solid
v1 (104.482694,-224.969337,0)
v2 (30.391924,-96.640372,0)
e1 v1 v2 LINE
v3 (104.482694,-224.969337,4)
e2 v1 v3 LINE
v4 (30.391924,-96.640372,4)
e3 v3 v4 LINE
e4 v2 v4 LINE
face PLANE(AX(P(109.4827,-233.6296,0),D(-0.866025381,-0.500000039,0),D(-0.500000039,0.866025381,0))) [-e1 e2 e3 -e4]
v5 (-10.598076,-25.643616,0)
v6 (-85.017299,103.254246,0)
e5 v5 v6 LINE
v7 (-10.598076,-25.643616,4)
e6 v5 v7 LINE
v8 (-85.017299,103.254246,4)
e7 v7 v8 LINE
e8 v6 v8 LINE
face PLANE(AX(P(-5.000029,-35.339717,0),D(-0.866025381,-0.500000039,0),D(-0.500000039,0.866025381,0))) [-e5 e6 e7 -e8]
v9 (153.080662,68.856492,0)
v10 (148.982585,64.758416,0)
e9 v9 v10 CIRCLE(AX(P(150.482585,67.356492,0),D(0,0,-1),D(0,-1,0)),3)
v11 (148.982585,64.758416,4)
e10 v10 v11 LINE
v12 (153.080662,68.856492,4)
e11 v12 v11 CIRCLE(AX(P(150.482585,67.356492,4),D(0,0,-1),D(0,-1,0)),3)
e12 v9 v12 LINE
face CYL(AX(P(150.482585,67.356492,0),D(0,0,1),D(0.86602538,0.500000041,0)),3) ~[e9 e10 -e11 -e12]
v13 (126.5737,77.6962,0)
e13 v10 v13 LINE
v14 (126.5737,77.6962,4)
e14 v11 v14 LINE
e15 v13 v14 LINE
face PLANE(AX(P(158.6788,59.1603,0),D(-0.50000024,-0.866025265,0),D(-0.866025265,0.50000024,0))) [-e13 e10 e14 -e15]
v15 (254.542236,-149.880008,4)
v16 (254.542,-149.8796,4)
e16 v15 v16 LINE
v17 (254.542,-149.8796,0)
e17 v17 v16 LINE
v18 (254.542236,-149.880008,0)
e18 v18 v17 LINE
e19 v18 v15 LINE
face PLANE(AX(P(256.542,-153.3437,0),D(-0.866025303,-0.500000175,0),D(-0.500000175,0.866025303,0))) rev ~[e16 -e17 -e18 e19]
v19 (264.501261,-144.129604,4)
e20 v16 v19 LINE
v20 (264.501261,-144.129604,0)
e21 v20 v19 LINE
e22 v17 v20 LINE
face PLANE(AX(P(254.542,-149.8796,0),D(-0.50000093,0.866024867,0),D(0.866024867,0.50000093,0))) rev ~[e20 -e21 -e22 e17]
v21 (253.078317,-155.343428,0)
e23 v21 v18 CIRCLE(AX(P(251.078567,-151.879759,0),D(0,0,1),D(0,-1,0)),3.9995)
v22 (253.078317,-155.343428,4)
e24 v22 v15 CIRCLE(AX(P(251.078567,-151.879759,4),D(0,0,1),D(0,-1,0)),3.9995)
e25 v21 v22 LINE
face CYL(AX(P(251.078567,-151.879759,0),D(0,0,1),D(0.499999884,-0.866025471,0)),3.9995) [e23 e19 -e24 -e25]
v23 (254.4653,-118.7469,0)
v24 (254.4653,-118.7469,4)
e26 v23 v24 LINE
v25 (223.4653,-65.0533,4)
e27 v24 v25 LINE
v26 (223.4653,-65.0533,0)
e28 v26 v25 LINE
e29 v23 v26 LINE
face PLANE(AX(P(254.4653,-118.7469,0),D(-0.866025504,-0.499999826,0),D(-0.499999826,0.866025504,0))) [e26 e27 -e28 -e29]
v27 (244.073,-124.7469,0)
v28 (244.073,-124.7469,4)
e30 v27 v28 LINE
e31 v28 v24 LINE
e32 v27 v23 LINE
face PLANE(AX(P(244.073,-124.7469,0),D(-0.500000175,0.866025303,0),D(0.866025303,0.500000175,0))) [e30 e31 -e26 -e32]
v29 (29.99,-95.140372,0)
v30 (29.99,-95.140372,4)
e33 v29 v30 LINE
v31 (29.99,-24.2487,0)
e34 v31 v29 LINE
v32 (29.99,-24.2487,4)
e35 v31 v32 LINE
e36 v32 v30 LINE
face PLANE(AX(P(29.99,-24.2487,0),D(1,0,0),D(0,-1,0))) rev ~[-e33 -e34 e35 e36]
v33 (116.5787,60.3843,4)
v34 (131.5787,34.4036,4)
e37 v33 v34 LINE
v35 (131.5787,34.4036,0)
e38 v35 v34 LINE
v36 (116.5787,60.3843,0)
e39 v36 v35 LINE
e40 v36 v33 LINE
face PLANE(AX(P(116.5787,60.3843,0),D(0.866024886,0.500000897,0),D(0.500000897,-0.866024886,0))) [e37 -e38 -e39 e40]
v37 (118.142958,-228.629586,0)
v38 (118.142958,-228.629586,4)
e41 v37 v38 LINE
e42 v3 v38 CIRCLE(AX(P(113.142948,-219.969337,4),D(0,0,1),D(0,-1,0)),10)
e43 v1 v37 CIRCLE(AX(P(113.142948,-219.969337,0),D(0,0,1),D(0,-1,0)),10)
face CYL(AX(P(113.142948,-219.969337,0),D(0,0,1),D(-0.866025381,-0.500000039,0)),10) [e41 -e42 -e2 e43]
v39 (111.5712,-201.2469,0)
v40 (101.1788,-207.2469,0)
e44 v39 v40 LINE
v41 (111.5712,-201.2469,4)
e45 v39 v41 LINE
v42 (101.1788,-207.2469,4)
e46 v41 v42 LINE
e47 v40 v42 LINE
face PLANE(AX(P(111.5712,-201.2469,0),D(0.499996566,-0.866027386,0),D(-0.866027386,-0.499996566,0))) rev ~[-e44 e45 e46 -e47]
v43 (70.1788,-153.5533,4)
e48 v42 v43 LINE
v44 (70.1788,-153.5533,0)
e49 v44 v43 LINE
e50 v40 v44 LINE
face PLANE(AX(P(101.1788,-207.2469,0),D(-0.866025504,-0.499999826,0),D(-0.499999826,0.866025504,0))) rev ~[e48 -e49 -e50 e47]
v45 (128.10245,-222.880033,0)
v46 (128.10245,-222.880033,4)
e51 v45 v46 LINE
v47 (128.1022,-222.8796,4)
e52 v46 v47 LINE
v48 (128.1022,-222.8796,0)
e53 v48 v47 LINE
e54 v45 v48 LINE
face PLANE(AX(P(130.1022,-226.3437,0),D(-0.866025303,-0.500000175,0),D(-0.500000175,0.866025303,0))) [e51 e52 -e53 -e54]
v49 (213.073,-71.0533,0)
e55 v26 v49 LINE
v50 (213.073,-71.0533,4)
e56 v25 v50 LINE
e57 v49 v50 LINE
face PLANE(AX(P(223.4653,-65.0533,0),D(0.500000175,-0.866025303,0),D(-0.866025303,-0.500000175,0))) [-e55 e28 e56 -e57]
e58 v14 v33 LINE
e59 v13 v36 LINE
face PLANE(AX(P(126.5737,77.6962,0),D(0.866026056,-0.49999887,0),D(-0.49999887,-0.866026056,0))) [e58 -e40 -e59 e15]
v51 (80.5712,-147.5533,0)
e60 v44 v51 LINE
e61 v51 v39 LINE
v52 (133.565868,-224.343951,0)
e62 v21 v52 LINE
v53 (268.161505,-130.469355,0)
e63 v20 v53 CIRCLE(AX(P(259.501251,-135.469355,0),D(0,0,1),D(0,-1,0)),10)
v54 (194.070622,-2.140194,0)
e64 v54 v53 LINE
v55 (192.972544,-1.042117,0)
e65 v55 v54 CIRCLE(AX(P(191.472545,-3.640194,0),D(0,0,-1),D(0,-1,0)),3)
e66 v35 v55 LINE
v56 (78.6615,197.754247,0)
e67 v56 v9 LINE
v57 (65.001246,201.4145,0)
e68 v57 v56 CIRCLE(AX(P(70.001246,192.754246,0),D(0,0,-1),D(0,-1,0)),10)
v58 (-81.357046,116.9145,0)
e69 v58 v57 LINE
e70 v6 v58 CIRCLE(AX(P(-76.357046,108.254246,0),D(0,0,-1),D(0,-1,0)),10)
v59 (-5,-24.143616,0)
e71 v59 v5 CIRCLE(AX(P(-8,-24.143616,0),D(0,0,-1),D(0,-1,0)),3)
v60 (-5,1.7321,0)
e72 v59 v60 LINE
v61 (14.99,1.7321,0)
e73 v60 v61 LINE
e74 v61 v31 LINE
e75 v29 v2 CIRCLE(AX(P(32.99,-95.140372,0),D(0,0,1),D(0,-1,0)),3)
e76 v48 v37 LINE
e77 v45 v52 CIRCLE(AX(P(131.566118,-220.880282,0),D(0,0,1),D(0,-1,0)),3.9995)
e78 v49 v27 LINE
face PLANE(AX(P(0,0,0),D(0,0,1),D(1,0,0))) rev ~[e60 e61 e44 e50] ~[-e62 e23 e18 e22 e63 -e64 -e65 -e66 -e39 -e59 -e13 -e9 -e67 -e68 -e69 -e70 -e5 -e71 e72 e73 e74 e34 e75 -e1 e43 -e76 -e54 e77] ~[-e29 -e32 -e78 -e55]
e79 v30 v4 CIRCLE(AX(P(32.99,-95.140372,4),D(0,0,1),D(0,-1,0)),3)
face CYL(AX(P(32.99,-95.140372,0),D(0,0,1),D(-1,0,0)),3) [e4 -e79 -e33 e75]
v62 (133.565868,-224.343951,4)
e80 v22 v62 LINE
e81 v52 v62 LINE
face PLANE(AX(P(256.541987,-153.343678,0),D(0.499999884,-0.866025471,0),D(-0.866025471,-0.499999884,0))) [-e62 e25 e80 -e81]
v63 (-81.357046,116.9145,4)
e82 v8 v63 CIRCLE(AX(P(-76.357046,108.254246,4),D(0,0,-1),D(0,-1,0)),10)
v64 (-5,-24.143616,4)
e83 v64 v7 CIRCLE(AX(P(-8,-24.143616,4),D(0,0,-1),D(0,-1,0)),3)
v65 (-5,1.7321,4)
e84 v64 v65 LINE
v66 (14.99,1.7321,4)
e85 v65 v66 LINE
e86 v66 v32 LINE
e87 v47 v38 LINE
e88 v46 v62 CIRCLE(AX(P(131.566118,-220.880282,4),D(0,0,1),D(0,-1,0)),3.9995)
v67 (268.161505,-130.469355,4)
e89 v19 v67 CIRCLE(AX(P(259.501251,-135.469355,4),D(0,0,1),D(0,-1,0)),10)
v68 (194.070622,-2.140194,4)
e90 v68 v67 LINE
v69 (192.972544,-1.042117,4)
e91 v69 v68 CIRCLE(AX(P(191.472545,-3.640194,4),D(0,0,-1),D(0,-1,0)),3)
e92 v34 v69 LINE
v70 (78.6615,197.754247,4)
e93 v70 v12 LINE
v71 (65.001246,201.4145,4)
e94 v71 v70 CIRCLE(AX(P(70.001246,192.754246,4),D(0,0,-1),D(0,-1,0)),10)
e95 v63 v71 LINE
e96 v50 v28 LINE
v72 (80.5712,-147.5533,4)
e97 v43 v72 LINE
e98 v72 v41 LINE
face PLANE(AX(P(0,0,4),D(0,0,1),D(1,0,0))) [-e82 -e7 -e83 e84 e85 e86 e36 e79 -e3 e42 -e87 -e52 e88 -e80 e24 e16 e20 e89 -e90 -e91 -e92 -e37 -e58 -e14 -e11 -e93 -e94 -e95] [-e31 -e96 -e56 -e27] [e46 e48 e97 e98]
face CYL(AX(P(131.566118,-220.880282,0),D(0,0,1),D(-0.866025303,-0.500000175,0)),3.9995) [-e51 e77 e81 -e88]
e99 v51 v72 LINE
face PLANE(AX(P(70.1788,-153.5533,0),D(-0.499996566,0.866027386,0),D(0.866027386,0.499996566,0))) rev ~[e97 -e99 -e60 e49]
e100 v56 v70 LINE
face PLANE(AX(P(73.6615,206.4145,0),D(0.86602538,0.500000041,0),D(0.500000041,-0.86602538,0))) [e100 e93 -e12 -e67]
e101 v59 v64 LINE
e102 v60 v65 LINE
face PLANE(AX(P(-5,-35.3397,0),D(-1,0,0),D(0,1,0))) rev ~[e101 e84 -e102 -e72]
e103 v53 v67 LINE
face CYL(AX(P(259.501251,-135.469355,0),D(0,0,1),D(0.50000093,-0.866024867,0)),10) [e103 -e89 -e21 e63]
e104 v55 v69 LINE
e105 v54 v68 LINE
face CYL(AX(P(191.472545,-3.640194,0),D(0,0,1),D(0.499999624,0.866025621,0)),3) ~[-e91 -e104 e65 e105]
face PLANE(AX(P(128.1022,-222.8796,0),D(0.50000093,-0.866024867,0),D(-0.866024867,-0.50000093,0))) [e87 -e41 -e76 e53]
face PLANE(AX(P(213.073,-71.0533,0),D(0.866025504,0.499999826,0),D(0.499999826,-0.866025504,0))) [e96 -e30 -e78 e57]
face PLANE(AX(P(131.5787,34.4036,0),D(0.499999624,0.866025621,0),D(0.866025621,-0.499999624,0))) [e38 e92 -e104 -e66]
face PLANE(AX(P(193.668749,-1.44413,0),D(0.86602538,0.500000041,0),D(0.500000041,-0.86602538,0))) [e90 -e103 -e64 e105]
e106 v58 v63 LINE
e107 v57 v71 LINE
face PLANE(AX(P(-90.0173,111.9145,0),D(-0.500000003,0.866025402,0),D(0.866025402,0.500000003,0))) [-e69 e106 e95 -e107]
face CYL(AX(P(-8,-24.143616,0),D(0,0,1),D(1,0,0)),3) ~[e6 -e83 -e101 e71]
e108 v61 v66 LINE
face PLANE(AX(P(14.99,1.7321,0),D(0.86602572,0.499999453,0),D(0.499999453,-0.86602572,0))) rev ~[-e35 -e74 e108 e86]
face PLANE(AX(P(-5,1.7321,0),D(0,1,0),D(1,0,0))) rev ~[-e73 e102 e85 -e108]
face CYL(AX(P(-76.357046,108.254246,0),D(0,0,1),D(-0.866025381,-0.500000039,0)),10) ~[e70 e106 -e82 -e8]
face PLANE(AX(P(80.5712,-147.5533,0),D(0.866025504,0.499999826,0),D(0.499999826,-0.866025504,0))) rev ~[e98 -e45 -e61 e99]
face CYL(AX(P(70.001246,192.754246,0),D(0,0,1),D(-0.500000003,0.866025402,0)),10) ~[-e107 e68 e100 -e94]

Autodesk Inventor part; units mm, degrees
ref_plane "YZ Plane" through (0, 0, 0) normal (1, 0, 0) x (0, 1, 0)
ref_plane "XZ Plane" through (0, 0, 0) normal (0, 1, 0) x (-1, 0, 0)
ref_plane "XY Plane" through (0, 0, 0) normal (0, 0, 1) x (1, 0, 0)
sketch "Sketch1" plane through (0, 0, 0) normal (0, 0, 1) x (1, 0, 0)
  line L0 (-90.0173, 111.9145) -> (73.6615, 206.4145)
  line L1 (73.6615, 206.4145) -> (275.1615, -142.5937)
  line L2 (275.1615, -142.5937) -> (130.1022, -226.3437)
  line L3 (111.4827, -237.0937) -> (109.4827, -233.6296) construction
  line L4 (89.6429, -179.2661) -> (74.6429, -153.2854) construction
  line L5 (74.6429, -153.2854) -> (65.7952, -137.9607) construction
  line L6 (69.2593, -135.9607) -> (65.7952, -137.9607) construction
  line L7 (69.2593, -135.9607) -> (78.1071, -151.2854) construction
  line L8 (78.1071, -151.2854) -> (93.1071, -177.2661) construction
  line L9 (93.1071, -177.2661) -> (89.6429, -179.2661) construction
  line L10 (74.6429, -153.2854) -> (78.1071, -151.2854) construction
  line L11 (-4, -30) -> (-4, 0) construction
  line L12 (-4, 0) -> (-4, 17.6954) construction
  line L13 (0, 17.6954) -> (-4, 17.6954) construction
  line L14 (0, 17.6954) -> (0, 0) construction
  line L15 (0, 0) -> (0, -30) construction
  line L16 (0, -30) -> (-4, -30) construction
  line L17 (-4, 0) -> (0, 0) construction
  line L18 (151.5544, 57.5) -> (125.5737, 72.5) construction
  line L19 (125.5737, 72.5) -> (110.249, 81.3477) construction
  line L20 (112.249, 84.8118) -> (110.249, 81.3477) construction
  line L21 (112.249, 84.8118) -> (127.5737, 75.9641) construction
  line L22 (127.5737, 75.9641) -> (153.5544, 60.9641) construction
  line L23 (153.5544, 60.9641) -> (151.5544, 57.5) construction
  line L24 (125.5737, 72.5) -> (127.5737, 75.9641) construction
  line L25 (232.5371, -96.7661) -> (217.5371, -70.7854) construction
  line L26 (217.5371, -70.7854) -> (208.6894, -55.4607) construction
  line L27 (212.1535, -53.4607) -> (208.6894, -55.4607) construction
  line L28 (212.1535, -53.4607) -> (221.0012, -68.7854) construction
  line L29 (221.0012, -68.7854) -> (236.0012, -94.7661) construction
  line L30 (236.0012, -94.7661) -> (232.5371, -96.7661) construction
  line L31 (217.5371, -70.7854) -> (221.0012, -68.7854) construction
  line L32 (142.8942, 62.5) -> (129.9038, 70) construction
  line L33 (129.9038, 70) -> (187.774, -30.2341) construction
  line L34 (187.774, -30.2341) -> (57.8702, -105.2341) construction
  line L35 (57.8702, -105.2341) -> (0, -5) construction
  line L36 (0, -5) -> (0, -20) construction
  line L37 (0, -20) -> (-4, -20) construction
  line L38 (-4, -20) -> (-4, 1.9282) construction
  line L39 (-4, 1.9282) -> (-65.6298, 108.6742) construction
  line L40 (-65.6298, 108.6742) -> (64.274, 183.6742) construction
  line L41 (64.274, 183.6742) -> (125.9038, 76.9282) construction
  line L42 (125.9038, 76.9282) -> (144.8942, 65.9641) construction
  line L43 (144.8942, 65.9641) -> (142.8942, 62.5) construction
  circle A0 centre (93.125, -181.2972) radius 1.5 construction
  circle A1 centre (-2, -33.5) radius 1.5 construction
  circle A2 centre (236.0192, -98.7972) radius 1.5 construction
  line L44 (57.1429, -122.9745) -> (60.6071, -120.9745) construction
  line L45 (60.6071, -120.9745) -> (88.1071, -168.6059) construction
  line L46 (88.1071, -168.6059) -> (84.6429, -170.6059) construction
  line L47 (84.6429, -170.6059) -> (57.1429, -122.9745) construction
  line L48 (200.0371, -40.4745) -> (203.5012, -38.4745) construction
  line L49 (203.5012, -38.4745) -> (231.0012, -86.1059) construction
  line L50 (231.0012, -86.1059) -> (227.5371, -88.1059) construction
  line L51 (227.5371, -88.1059) -> (200.0371, -40.4745) construction
  circle A3 centre (155.5855, 57.4821) radius 1.5 construction
  line L52 (240.274, -121.1668) -> (261.274, -157.5398) construction
  line L53 (272.0993, -151.2898) -> (261.274, -157.5398) construction
  line L54 (268.0993, -144.3616) -> (272.0993, -151.2898) construction
  line L55 (268.0993, -144.3616) -> (299.7092, -126.1116) construction
  line L56 (299.7092, -126.1116) -> (281.7092, -94.9347) construction
  line L57 (281.7092, -94.9347) -> (277.5523, -97.3347) construction
  line L58 (277.5523, -97.3347) -> (278.1523, -98.374) construction
  line L59 (278.1523, -98.374) -> (276.0739, -99.574) construction
  line L60 (276.0739, -99.574) -> (275.4739, -98.5347) construction
  line L61 (275.4739, -98.5347) -> (271.3169, -100.9347) construction
  line L62 (271.3169, -100.9347) -> (269.8169, -98.3367) construction
  line L63 (269.8169, -98.3367) -> (273.9739, -95.9367) construction
  line L64 (273.9739, -95.9367) -> (273.3739, -94.8974) construction
  line L65 (273.3739, -94.8974) -> (275.4523, -93.6974) construction
  line L66 (275.4523, -93.6974) -> (276.0523, -94.7367) construction
  line L67 (276.0523, -94.7367) -> (280.2092, -92.3367) construction
  line L68 (280.2092, -92.3367) -> (262.2092, -61.1597) construction
  line L69 (262.2092, -61.1597) -> (265.6733, -59.1597) construction
  line L70 (265.6733, -59.1597) -> (228.1733, 5.7922) construction
  line L71 (228.1733, 5.7922) -> (224.7092, 3.7922) construction
  line L72 (224.7092, 3.7922) -> (206.7092, 34.9691) construction
  line L73 (206.7092, 34.9691) -> (202.5523, 32.5691) construction
  line L74 (202.5523, 32.5691) -> (203.1523, 31.5299) construction
  line L75 (203.1523, 31.5299) -> (201.0739, 30.3299) construction
  line L76 (201.0739, 30.3299) -> (200.4739, 31.3691) construction
  line L77 (200.4739, 31.3691) -> (196.3169, 28.9691) construction
  line L78 (196.3169, 28.9691) -> (194.8169, 31.5672) construction
  line L79 (194.8169, 31.5672) -> (198.9739, 33.9672) construction
  line L80 (198.9739, 33.9672) -> (198.3739, 35.0064) construction
  line L81 (198.3739, 35.0064) -> (200.4523, 36.2064) construction
  line L82 (200.4523, 36.2064) -> (201.0523, 35.1672) construction
  line L83 (201.0523, 35.1672) -> (205.2092, 37.5672) construction
  line L84 (205.2092, 37.5672) -> (187.2092, 68.7441) construction
  line L85 (187.2092, 68.7441) -> (190.6733, 70.7441) construction
  line L86 (190.6733, 70.7441) -> (153.1733, 135.696) construction
  line L87 (153.1733, 135.696) -> (149.7092, 133.696) construction
  line L88 (149.7092, 133.696) -> (131.7092, 164.8729) construction
  line L89 (131.7092, 164.8729) -> (127.5523, 162.4729) construction
  line L90 (127.5523, 162.4729) -> (128.1523, 161.4337) construction
  line L91 (128.1523, 161.4337) -> (126.0739, 160.2337) construction
  line L92 (126.0739, 160.2337) -> (125.4739, 161.2729) construction
  line L93 (125.4739, 161.2729) -> (121.3169, 158.8729) construction
  line L94 (121.3169, 158.8729) -> (119.8169, 161.471) construction
  line L95 (119.8169, 161.471) -> (123.9739, 163.871) construction
  line L96 (123.9739, 163.871) -> (123.3739, 164.9102) construction
  line L97 (123.3739, 164.9102) -> (125.4523, 166.1102) construction
  line L98 (125.4523, 166.1102) -> (126.0523, 165.071) construction
  line L99 (126.0523, 165.071) -> (130.2092, 167.471) construction
  line L100 (130.2092, 167.471) -> (112.2092, 198.6479) construction
  line L101 (112.2092, 198.6479) -> (115.6733, 200.6479) construction
  line L102 (115.6733, 200.6479) -> (78.1733, 265.5998) construction
  line L103 (78.1733, 265.5998) -> (57.3887, 253.5998) construction
  line L104 (57.3887, 253.5998) -> (94.8887, 188.6479) construction
  line L105 (91.4246, 186.6479) -> (94.8887, 188.6479) construction
  line L106 (53.9246, 251.5998) -> (91.4246, 186.6479) construction
  line L107 (43.0993, 245.3498) -> (53.9246, 251.5998) construction
  line L108 (41.0993, 248.8139) -> (43.0993, 245.3498) construction
  line L109 (10.7884, 231.3139) -> (41.0993, 248.8139) construction
  line L110 (12.7884, 227.8498) -> (10.7884, 231.3139) construction
  line L111 (-1.068, 219.8498) -> (12.7884, 227.8498) construction
  line L112 (1.332, 215.6929) -> (-1.068, 219.8498) construction
  line L113 (2.3713, 216.2929) -> (1.332, 215.6929) construction
  line L114 (3.5713, 214.2144) -> (2.3713, 216.2929) construction
  line L115 (2.532, 213.6144) -> (3.5713, 214.2144) construction
  line L116 (4.932, 209.4575) -> (2.532, 213.6144) construction
  line L117 (2.3339, 207.9575) -> (4.932, 209.4575) construction
  line L118 (-0.0661, 212.1144) -> (2.3339, 207.9575) construction
  line L119 (-1.1053, 211.5144) -> (-0.0661, 212.1144) construction
  line L120 (-2.3053, 213.5929) -> (-1.1053, 211.5144) construction
  line L121 (-1.2661, 214.1929) -> (-2.3053, 213.5929) construction
  line L122 (-3.6661, 218.3498) -> (-1.2661, 214.1929) construction
  line L123 (-17.5225, 210.3498) -> (-3.6661, 218.3498) construction
  line L124 (-19.5225, 213.8139) -> (-17.5225, 210.3498) construction
  line L125 (-49.8333, 196.3139) -> (-19.5225, 213.8139) construction
  line L126 (-47.8333, 192.8498) -> (-49.8333, 196.3139) construction
  line L127 (-61.6898, 184.8498) -> (-47.8333, 192.8498) construction
  line L128 (-59.2898, 180.6929) -> (-61.6898, 184.8498) construction
  line L129 (-58.2505, 181.2929) -> (-59.2898, 180.6929) construction
  line L130 (-57.0505, 179.2144) -> (-58.2505, 181.2929) construction
  line L131 (-58.0898, 178.6144) -> (-57.0505, 179.2144) construction
  line L132 (-55.6898, 174.4575) -> (-58.0898, 178.6144) construction
  line L133 (-58.2878, 172.9575) -> (-55.6898, 174.4575) construction
  line L134 (-60.6878, 177.1144) -> (-58.2878, 172.9575) construction
  line L135 (-61.7271, 176.5144) -> (-60.6878, 177.1144) construction
  line L136 (-62.9271, 178.5929) -> (-61.7271, 176.5144) construction
  line L137 (-61.8878, 179.1929) -> (-62.9271, 178.5929) construction
  line L138 (-64.2878, 183.3498) -> (-61.8878, 179.1929) construction
  line L139 (-78.1442, 175.3498) -> (-64.2878, 183.3498) construction
  line L140 (-80.1442, 178.8139) -> (-78.1442, 175.3498) construction
  line L141 (-110.4551, 161.3139) -> (-80.1442, 178.8139) construction
  line L142 (-108.4551, 157.8498) -> (-110.4551, 161.3139) construction
  line L143 (-122.7445, 149.5998) -> (-108.4551, 157.8498) construction
  line L144 (-85.2445, 84.6479) -> (-122.7445, 149.5998) construction
  line L145 (-81.7804, 86.6479) -> (-85.2445, 84.6479) construction
  line L146 (-63.7804, 55.471) -> (-81.7804, 86.6479) construction
  line L147 (-63.7804, 55.471) -> (-59.6235, 57.871) construction
  line L148 (-59.6235, 57.871) -> (-60.2235, 58.9102) construction
  line L149 (-60.2235, 58.9102) -> (-58.1451, 60.1102) construction
  line L150 (-58.1451, 60.1102) -> (-57.5451, 59.071) construction
  line L151 (-57.5451, 59.071) -> (-53.3881, 61.471) construction
  line L152 (-53.3881, 61.471) -> (-51.8881, 58.8729) construction
  line L153 (-51.8881, 58.8729) -> (-56.0451, 56.4729) construction
  line L154 (-56.0451, 56.4729) -> (-55.4451, 55.4337) construction
  line L155 (-55.4451, 55.4337) -> (-57.5235, 54.2337) construction
  line L156 (-57.5235, 54.2337) -> (-58.1235, 55.2729) construction
  line L157 (-58.1235, 55.2729) -> (-62.2804, 52.8729) construction
  line L158 (-44.2804, 21.696) -> (-62.2804, 52.8729) construction
  line L159 (-47.7445, 19.696) -> (-44.2804, 21.696) construction
  line L160 (-10.2445, -45.2559) -> (-47.7445, 19.696) construction
  line L161 (-6.7804, -43.2559) -> (-10.2445, -45.2559) construction
  line L162 (11.2196, -74.4328) -> (-6.7804, -43.2559) construction
  line L163 (11.2196, -74.4328) -> (15.3765, -72.0328) construction
  line L164 (15.3765, -72.0328) -> (14.7765, -70.9936) construction
  line L165 (14.7765, -70.9936) -> (16.8549, -69.7936) construction
  line L166 (16.8549, -69.7936) -> (17.4549, -70.8328) construction
  line L167 (17.4549, -70.8328) -> (21.6119, -68.4328) construction
  line L168 (21.6119, -68.4328) -> (23.1119, -71.0309) construction
  line L169 (23.1119, -71.0309) -> (18.9549, -73.4309) construction
  line L170 (18.9549, -73.4309) -> (19.5549, -74.4701) construction
  line L171 (19.5549, -74.4701) -> (17.4765, -75.6701) construction
  line L172 (17.4765, -75.6701) -> (16.8765, -74.6309) construction
  line L173 (16.8765, -74.6309) -> (12.7196, -77.0309) construction
  line L174 (30.7196, -108.2078) -> (12.7196, -77.0309) construction
  line L175 (27.2555, -110.2078) -> (30.7196, -108.2078) construction
  line L176 (64.7555, -175.1597) -> (27.2555, -110.2078) construction
  line L177 (68.2196, -173.1597) -> (64.7555, -175.1597) construction
  line L178 (86.2196, -204.3367) -> (68.2196, -173.1597) construction
  line L179 (86.2196, -204.3367) -> (90.3765, -201.9367) construction
  line L180 (90.3765, -201.9367) -> (89.7765, -200.8974) construction
  line L181 (89.7765, -200.8974) -> (91.8549, -199.6974) construction
  line L182 (91.8549, -199.6974) -> (92.4549, -200.7367) construction
  line L183 (92.4549, -200.7367) -> (96.6119, -198.3367) construction
  line L184 (96.6119, -198.3367) -> (98.1119, -200.9347) construction
  line L185 (98.1119, -200.9347) -> (93.9549, -203.3347) construction
  line L186 (93.9549, -203.3347) -> (94.5549, -204.374) construction
  line L187 (94.5549, -204.374) -> (92.4765, -205.574) construction
  line L188 (92.4765, -205.574) -> (91.8765, -204.5347) construction
  line L189 (91.8765, -204.5347) -> (87.7196, -206.9347) construction
  line L190 (105.7196, -238.1116) -> (87.7196, -206.9347) construction
  line L191 (116.5449, -231.8616) -> (105.7196, -238.1116) construction
  line L192 (120.5449, -238.7898) -> (116.5449, -231.8616) construction
  line L193 (131.3702, -232.5398) -> (120.5449, -238.7898) construction
  line L194 (131.3702, -232.5398) -> (110.3702, -196.1668) construction
  line L195 (110.3702, -196.1668) -> (240.274, -121.1668) construction
  line L196 (241.4246, -73.1597) -> (244.8887, -71.1597) construction
  line L197 (203.9246, -8.2078) -> (241.4246, -73.1597) construction
  line L198 (207.3887, -6.2078) -> (203.9246, -8.2078) construction
  line L199 (207.3887, -6.2078) -> (244.8887, -71.1597) construction
  line L200 (166.4246, 56.7441) -> (169.8887, 58.7441) construction
  line L201 (128.9246, 121.696) -> (166.4246, 56.7441) construction
  line L202 (132.3887, 123.696) -> (128.9246, 121.696) construction
  line L203 (132.3887, 123.696) -> (169.8887, 58.7441) construction
  circle A4 centre (245.1913, -27.6838) radius 1.5 construction
  circle A5 centre (170.1913, 102.22) radius 1.5 construction
  circle A6 centre (95.1913, 232.1238) radius 1.5 construction
  circle A7 centre (-40.4936, 160.137) radius 1.5 construction
  circle A8 centre (7.1378, 187.637) radius 1.5 construction
  circle A9 centre (162.6378, -81.6969) radius 1.5 construction
  circle A10 centre (115.0064, -109.1969) radius 1.5 construction
  circle A11 centre (148.5064, -167.2206) radius 1.5 construction
  circle A12 centre (196.1378, -139.7206) radius 1.5 construction
  line L204 (107.3461, -115.929) -> (77.0353, -133.429) construction
  line L205 (77.0353, -133.429) -> (75.0353, -129.9649) construction
  line L206 (75.0353, -129.9649) -> (105.3461, -112.4649) construction
  line L207 (105.3461, -112.4649) -> (107.3461, -115.929) construction
  line L208 (45.1089, 211.869) -> (47.1089, 208.4049) construction
  line L209 (47.1089, 208.4049) -> (16.798, 190.9049) construction
  line L210 (16.798, 190.9049) -> (14.798, 194.369) construction
  line L211 (14.798, 194.369) -> (45.1089, 211.869) construction
  line L212 (-32.8333, 166.869) -> (-2.5225, 184.369) construction
  line L213 (-2.5225, 184.369) -> (-0.5225, 180.9049) construction
  line L214 (-0.5225, 180.9049) -> (-30.8333, 163.4049) construction
  line L215 (-30.8333, 163.4049) -> (-32.8333, 166.869) construction
  line L216 (140.8461, -173.9527) -> (110.5353, -191.4527) construction
  line L217 (110.5353, -191.4527) -> (108.5353, -187.9886) construction
  line L218 (108.5353, -187.9886) -> (138.8461, -170.4886) construction
  line L219 (138.8461, -170.4886) -> (140.8461, -173.9527) construction
  line L220 (154.9775, -88.429) -> (124.6667, -105.929) construction
  line L221 (124.6667, -105.929) -> (122.6667, -102.4649) construction
  line L222 (122.6667, -102.4649) -> (152.9775, -84.9649) construction
  line L223 (152.9775, -84.9649) -> (154.9775, -88.429) construction
  line L224 (236.1089, -118.9527) -> (205.798, -136.4527) construction
  line L225 (205.798, -136.4527) -> (203.798, -132.9886) construction
  line L226 (203.798, -132.9886) -> (234.1089, -115.4886) construction
  line L227 (234.1089, -115.4886) -> (236.1089, -118.9527) construction
  line L228 (-48.1539, 153.4049) -> (-78.4647, 135.9049) construction
  line L229 (-78.4647, 135.9049) -> (-80.4647, 139.369) construction
  line L230 (-80.4647, 139.369) -> (-50.1539, 156.869) construction
  line L231 (-50.1539, 156.869) -> (-48.1539, 153.4049) construction
  line L232 (186.4775, -142.9886) -> (188.4775, -146.4527) construction
  line L233 (188.4775, -146.4527) -> (158.1667, -163.9527) construction
  line L234 (158.1667, -163.9527) -> (156.1667, -160.4886) construction
  line L235 (156.1667, -160.4886) -> (186.4775, -142.9886) construction
  line L236 (200.6089, -57.4649) -> (202.6089, -60.929) construction
  line L237 (202.6089, -60.929) -> (172.298, -78.429) construction
  line L238 (172.298, -78.429) -> (170.298, -74.9649) construction
  line L239 (170.298, -74.9649) -> (200.6089, -57.4649) construction
  circle A13 centre (-27.2625, -11.78) radius 1.5 construction
  circle A14 centre (47.7375, -141.6838) radius 1.5 construction
  circle A15 centre (186.9067, 25.2681) radius 1.5 construction
  circle A16 centre (111.9067, 155.1719) radius 1.5 construction
  circle A17 centre (261.9067, -104.6357) radius 1.5 construction
  circle A18 centre (-102.2625, 118.1238) radius 1.5 construction
  line L240 (116.5449, -231.8616) -> (268.0993, -144.3616) construction
  line L241 (118.5449, -235.3257) -> (116.5449, -231.8616) construction
  line L242 (118.5449, -235.3257) -> (270.0993, -147.8257) construction
  line L243 (270.0993, -147.8257) -> (268.0993, -144.3616) construction
  line L244 (284.3887, -139.5757) -> (104.2555, -243.5757) construction
  line L245 (104.2555, -243.5757) -> (106.2555, -247.0398) construction
  line L246 (286.3887, -143.0398) -> (106.2555, -247.0398) construction
  line L247 (284.3887, -139.5757) -> (286.3887, -143.0398) construction
  line L248 (-5, 1.7321) -> (29.99, 1.7321) construction
  line L249 (29.99, 1.7321) -> (29.99, -35.3397) construction
  line L250 (29.99, -35.3397) -> (-5, -35.3397) construction
  line L251 (-5, -35.3397) -> (-5, 1.7321)
  line L252 (14.99, 1.7321) -> (29.99, -24.2487)
  line L253 (29.99, -24.2487) -> (29.99, -95.9441)
  line L254 (-5, 1.7321) -> (14.99, 1.7321)
  line L255 (70.1788, -153.5533) -> (80.5712, -147.5533)
  line L256 (80.5712, -147.5533) -> (111.5712, -201.2469)
  line L257 (111.5712, -201.2469) -> (101.1788, -207.2469)
  line L258 (101.1788, -207.2469) -> (70.1788, -153.5533)
  line L259 (111.4827, -237.0937) -> (130.1022, -226.3437) construction
  line L260 (130.1022, -226.3437) -> (128.1022, -222.8796)
  line L261 (128.1022, -222.8796) -> (109.4827, -233.6296)
  line L262 (109.4827, -233.6296) -> (111.4827, -237.0937) construction
  line L263 (109.4827, -233.6296) -> (-90.0173, 111.9145)
  line L264 (130.1022, -226.3437) -> (111.4827, -237.0937) construction
  line L265 (-0.6779, 146.1742) -> (194.3221, -191.5757) construction
  line L266 (158.6788, 59.1603) -> (126.5737, 77.6962)
  line L267 (116.5787, 60.3843) -> (131.5787, 34.4036)
  line L268 (131.5787, 34.4036) -> (193.6688, -1.4441)
  line L269 (126.5737, 77.6962) -> (116.5787, 60.3843)
  line L270 (223.4653, -65.0533) -> (213.073, -71.0533)
  line L271 (213.073, -71.0533) -> (244.073, -124.7469)
  line L272 (244.073, -124.7469) -> (254.4653, -118.7469)
  line L273 (254.4653, -118.7469) -> (223.4653, -65.0533)
  line L274 (256.542, -153.3437) -> (254.542, -149.8796)
  line L275 (254.542, -149.8796) -> (273.1615, -139.1296)
  line L276 (-4, 0) -> (-5, 1.7321) construction
  line L277 (-5, 1.7321) -> (-5, 1.7321) construction
  point P0 (75.375, -150.5533)
  point P1 (193.6688, -1.4441)
  dimension "d0" = 2
  dimension "d1" = 10
  dimension "d2" = 10
  dimension "d3" = 1
  dimension "d5" = 5
  dimension "d7" = 30
  dimension "d8" = 4
  dimension "d9" = 4
  dimension "d12" = 30
  dimension "d13" = 2
  dimension "d14" = 2
  dimension "d17" = 2
  dimension "d18" = 15
  dimension "d19" = 2
extrude "Extrusion1" add sketch "Sketch1" along normal blind 4 contours L0 L1 L266 L269 L267 L268 L275 L274 L2 L260 L261 L263 L253 L252 L254 L251
fillet "Fillet1" radius 3 1 edges at (-5, -35.3397, 2)
fillet "Fillet2" radius 3 3 edges at (29.99, -95.9441, 2) (193.6688, -1.4441, 2) (158.6788, 59.1603, 2)
fillet "Fillet3" radius 10 4 edges at (273.1615, -139.1296, 2) (73.6615, 206.4145, 2) (-90.0173, 111.9145, 2) (109.4827, -233.6296, 2)
fillet "Fillet4" radius 4 2 edges at (130.1022, -226.3437, 2) (256.542, -153.3437, 2)
properties part number "Cover_Back" material "MDF Medium Density Fiberboard"
